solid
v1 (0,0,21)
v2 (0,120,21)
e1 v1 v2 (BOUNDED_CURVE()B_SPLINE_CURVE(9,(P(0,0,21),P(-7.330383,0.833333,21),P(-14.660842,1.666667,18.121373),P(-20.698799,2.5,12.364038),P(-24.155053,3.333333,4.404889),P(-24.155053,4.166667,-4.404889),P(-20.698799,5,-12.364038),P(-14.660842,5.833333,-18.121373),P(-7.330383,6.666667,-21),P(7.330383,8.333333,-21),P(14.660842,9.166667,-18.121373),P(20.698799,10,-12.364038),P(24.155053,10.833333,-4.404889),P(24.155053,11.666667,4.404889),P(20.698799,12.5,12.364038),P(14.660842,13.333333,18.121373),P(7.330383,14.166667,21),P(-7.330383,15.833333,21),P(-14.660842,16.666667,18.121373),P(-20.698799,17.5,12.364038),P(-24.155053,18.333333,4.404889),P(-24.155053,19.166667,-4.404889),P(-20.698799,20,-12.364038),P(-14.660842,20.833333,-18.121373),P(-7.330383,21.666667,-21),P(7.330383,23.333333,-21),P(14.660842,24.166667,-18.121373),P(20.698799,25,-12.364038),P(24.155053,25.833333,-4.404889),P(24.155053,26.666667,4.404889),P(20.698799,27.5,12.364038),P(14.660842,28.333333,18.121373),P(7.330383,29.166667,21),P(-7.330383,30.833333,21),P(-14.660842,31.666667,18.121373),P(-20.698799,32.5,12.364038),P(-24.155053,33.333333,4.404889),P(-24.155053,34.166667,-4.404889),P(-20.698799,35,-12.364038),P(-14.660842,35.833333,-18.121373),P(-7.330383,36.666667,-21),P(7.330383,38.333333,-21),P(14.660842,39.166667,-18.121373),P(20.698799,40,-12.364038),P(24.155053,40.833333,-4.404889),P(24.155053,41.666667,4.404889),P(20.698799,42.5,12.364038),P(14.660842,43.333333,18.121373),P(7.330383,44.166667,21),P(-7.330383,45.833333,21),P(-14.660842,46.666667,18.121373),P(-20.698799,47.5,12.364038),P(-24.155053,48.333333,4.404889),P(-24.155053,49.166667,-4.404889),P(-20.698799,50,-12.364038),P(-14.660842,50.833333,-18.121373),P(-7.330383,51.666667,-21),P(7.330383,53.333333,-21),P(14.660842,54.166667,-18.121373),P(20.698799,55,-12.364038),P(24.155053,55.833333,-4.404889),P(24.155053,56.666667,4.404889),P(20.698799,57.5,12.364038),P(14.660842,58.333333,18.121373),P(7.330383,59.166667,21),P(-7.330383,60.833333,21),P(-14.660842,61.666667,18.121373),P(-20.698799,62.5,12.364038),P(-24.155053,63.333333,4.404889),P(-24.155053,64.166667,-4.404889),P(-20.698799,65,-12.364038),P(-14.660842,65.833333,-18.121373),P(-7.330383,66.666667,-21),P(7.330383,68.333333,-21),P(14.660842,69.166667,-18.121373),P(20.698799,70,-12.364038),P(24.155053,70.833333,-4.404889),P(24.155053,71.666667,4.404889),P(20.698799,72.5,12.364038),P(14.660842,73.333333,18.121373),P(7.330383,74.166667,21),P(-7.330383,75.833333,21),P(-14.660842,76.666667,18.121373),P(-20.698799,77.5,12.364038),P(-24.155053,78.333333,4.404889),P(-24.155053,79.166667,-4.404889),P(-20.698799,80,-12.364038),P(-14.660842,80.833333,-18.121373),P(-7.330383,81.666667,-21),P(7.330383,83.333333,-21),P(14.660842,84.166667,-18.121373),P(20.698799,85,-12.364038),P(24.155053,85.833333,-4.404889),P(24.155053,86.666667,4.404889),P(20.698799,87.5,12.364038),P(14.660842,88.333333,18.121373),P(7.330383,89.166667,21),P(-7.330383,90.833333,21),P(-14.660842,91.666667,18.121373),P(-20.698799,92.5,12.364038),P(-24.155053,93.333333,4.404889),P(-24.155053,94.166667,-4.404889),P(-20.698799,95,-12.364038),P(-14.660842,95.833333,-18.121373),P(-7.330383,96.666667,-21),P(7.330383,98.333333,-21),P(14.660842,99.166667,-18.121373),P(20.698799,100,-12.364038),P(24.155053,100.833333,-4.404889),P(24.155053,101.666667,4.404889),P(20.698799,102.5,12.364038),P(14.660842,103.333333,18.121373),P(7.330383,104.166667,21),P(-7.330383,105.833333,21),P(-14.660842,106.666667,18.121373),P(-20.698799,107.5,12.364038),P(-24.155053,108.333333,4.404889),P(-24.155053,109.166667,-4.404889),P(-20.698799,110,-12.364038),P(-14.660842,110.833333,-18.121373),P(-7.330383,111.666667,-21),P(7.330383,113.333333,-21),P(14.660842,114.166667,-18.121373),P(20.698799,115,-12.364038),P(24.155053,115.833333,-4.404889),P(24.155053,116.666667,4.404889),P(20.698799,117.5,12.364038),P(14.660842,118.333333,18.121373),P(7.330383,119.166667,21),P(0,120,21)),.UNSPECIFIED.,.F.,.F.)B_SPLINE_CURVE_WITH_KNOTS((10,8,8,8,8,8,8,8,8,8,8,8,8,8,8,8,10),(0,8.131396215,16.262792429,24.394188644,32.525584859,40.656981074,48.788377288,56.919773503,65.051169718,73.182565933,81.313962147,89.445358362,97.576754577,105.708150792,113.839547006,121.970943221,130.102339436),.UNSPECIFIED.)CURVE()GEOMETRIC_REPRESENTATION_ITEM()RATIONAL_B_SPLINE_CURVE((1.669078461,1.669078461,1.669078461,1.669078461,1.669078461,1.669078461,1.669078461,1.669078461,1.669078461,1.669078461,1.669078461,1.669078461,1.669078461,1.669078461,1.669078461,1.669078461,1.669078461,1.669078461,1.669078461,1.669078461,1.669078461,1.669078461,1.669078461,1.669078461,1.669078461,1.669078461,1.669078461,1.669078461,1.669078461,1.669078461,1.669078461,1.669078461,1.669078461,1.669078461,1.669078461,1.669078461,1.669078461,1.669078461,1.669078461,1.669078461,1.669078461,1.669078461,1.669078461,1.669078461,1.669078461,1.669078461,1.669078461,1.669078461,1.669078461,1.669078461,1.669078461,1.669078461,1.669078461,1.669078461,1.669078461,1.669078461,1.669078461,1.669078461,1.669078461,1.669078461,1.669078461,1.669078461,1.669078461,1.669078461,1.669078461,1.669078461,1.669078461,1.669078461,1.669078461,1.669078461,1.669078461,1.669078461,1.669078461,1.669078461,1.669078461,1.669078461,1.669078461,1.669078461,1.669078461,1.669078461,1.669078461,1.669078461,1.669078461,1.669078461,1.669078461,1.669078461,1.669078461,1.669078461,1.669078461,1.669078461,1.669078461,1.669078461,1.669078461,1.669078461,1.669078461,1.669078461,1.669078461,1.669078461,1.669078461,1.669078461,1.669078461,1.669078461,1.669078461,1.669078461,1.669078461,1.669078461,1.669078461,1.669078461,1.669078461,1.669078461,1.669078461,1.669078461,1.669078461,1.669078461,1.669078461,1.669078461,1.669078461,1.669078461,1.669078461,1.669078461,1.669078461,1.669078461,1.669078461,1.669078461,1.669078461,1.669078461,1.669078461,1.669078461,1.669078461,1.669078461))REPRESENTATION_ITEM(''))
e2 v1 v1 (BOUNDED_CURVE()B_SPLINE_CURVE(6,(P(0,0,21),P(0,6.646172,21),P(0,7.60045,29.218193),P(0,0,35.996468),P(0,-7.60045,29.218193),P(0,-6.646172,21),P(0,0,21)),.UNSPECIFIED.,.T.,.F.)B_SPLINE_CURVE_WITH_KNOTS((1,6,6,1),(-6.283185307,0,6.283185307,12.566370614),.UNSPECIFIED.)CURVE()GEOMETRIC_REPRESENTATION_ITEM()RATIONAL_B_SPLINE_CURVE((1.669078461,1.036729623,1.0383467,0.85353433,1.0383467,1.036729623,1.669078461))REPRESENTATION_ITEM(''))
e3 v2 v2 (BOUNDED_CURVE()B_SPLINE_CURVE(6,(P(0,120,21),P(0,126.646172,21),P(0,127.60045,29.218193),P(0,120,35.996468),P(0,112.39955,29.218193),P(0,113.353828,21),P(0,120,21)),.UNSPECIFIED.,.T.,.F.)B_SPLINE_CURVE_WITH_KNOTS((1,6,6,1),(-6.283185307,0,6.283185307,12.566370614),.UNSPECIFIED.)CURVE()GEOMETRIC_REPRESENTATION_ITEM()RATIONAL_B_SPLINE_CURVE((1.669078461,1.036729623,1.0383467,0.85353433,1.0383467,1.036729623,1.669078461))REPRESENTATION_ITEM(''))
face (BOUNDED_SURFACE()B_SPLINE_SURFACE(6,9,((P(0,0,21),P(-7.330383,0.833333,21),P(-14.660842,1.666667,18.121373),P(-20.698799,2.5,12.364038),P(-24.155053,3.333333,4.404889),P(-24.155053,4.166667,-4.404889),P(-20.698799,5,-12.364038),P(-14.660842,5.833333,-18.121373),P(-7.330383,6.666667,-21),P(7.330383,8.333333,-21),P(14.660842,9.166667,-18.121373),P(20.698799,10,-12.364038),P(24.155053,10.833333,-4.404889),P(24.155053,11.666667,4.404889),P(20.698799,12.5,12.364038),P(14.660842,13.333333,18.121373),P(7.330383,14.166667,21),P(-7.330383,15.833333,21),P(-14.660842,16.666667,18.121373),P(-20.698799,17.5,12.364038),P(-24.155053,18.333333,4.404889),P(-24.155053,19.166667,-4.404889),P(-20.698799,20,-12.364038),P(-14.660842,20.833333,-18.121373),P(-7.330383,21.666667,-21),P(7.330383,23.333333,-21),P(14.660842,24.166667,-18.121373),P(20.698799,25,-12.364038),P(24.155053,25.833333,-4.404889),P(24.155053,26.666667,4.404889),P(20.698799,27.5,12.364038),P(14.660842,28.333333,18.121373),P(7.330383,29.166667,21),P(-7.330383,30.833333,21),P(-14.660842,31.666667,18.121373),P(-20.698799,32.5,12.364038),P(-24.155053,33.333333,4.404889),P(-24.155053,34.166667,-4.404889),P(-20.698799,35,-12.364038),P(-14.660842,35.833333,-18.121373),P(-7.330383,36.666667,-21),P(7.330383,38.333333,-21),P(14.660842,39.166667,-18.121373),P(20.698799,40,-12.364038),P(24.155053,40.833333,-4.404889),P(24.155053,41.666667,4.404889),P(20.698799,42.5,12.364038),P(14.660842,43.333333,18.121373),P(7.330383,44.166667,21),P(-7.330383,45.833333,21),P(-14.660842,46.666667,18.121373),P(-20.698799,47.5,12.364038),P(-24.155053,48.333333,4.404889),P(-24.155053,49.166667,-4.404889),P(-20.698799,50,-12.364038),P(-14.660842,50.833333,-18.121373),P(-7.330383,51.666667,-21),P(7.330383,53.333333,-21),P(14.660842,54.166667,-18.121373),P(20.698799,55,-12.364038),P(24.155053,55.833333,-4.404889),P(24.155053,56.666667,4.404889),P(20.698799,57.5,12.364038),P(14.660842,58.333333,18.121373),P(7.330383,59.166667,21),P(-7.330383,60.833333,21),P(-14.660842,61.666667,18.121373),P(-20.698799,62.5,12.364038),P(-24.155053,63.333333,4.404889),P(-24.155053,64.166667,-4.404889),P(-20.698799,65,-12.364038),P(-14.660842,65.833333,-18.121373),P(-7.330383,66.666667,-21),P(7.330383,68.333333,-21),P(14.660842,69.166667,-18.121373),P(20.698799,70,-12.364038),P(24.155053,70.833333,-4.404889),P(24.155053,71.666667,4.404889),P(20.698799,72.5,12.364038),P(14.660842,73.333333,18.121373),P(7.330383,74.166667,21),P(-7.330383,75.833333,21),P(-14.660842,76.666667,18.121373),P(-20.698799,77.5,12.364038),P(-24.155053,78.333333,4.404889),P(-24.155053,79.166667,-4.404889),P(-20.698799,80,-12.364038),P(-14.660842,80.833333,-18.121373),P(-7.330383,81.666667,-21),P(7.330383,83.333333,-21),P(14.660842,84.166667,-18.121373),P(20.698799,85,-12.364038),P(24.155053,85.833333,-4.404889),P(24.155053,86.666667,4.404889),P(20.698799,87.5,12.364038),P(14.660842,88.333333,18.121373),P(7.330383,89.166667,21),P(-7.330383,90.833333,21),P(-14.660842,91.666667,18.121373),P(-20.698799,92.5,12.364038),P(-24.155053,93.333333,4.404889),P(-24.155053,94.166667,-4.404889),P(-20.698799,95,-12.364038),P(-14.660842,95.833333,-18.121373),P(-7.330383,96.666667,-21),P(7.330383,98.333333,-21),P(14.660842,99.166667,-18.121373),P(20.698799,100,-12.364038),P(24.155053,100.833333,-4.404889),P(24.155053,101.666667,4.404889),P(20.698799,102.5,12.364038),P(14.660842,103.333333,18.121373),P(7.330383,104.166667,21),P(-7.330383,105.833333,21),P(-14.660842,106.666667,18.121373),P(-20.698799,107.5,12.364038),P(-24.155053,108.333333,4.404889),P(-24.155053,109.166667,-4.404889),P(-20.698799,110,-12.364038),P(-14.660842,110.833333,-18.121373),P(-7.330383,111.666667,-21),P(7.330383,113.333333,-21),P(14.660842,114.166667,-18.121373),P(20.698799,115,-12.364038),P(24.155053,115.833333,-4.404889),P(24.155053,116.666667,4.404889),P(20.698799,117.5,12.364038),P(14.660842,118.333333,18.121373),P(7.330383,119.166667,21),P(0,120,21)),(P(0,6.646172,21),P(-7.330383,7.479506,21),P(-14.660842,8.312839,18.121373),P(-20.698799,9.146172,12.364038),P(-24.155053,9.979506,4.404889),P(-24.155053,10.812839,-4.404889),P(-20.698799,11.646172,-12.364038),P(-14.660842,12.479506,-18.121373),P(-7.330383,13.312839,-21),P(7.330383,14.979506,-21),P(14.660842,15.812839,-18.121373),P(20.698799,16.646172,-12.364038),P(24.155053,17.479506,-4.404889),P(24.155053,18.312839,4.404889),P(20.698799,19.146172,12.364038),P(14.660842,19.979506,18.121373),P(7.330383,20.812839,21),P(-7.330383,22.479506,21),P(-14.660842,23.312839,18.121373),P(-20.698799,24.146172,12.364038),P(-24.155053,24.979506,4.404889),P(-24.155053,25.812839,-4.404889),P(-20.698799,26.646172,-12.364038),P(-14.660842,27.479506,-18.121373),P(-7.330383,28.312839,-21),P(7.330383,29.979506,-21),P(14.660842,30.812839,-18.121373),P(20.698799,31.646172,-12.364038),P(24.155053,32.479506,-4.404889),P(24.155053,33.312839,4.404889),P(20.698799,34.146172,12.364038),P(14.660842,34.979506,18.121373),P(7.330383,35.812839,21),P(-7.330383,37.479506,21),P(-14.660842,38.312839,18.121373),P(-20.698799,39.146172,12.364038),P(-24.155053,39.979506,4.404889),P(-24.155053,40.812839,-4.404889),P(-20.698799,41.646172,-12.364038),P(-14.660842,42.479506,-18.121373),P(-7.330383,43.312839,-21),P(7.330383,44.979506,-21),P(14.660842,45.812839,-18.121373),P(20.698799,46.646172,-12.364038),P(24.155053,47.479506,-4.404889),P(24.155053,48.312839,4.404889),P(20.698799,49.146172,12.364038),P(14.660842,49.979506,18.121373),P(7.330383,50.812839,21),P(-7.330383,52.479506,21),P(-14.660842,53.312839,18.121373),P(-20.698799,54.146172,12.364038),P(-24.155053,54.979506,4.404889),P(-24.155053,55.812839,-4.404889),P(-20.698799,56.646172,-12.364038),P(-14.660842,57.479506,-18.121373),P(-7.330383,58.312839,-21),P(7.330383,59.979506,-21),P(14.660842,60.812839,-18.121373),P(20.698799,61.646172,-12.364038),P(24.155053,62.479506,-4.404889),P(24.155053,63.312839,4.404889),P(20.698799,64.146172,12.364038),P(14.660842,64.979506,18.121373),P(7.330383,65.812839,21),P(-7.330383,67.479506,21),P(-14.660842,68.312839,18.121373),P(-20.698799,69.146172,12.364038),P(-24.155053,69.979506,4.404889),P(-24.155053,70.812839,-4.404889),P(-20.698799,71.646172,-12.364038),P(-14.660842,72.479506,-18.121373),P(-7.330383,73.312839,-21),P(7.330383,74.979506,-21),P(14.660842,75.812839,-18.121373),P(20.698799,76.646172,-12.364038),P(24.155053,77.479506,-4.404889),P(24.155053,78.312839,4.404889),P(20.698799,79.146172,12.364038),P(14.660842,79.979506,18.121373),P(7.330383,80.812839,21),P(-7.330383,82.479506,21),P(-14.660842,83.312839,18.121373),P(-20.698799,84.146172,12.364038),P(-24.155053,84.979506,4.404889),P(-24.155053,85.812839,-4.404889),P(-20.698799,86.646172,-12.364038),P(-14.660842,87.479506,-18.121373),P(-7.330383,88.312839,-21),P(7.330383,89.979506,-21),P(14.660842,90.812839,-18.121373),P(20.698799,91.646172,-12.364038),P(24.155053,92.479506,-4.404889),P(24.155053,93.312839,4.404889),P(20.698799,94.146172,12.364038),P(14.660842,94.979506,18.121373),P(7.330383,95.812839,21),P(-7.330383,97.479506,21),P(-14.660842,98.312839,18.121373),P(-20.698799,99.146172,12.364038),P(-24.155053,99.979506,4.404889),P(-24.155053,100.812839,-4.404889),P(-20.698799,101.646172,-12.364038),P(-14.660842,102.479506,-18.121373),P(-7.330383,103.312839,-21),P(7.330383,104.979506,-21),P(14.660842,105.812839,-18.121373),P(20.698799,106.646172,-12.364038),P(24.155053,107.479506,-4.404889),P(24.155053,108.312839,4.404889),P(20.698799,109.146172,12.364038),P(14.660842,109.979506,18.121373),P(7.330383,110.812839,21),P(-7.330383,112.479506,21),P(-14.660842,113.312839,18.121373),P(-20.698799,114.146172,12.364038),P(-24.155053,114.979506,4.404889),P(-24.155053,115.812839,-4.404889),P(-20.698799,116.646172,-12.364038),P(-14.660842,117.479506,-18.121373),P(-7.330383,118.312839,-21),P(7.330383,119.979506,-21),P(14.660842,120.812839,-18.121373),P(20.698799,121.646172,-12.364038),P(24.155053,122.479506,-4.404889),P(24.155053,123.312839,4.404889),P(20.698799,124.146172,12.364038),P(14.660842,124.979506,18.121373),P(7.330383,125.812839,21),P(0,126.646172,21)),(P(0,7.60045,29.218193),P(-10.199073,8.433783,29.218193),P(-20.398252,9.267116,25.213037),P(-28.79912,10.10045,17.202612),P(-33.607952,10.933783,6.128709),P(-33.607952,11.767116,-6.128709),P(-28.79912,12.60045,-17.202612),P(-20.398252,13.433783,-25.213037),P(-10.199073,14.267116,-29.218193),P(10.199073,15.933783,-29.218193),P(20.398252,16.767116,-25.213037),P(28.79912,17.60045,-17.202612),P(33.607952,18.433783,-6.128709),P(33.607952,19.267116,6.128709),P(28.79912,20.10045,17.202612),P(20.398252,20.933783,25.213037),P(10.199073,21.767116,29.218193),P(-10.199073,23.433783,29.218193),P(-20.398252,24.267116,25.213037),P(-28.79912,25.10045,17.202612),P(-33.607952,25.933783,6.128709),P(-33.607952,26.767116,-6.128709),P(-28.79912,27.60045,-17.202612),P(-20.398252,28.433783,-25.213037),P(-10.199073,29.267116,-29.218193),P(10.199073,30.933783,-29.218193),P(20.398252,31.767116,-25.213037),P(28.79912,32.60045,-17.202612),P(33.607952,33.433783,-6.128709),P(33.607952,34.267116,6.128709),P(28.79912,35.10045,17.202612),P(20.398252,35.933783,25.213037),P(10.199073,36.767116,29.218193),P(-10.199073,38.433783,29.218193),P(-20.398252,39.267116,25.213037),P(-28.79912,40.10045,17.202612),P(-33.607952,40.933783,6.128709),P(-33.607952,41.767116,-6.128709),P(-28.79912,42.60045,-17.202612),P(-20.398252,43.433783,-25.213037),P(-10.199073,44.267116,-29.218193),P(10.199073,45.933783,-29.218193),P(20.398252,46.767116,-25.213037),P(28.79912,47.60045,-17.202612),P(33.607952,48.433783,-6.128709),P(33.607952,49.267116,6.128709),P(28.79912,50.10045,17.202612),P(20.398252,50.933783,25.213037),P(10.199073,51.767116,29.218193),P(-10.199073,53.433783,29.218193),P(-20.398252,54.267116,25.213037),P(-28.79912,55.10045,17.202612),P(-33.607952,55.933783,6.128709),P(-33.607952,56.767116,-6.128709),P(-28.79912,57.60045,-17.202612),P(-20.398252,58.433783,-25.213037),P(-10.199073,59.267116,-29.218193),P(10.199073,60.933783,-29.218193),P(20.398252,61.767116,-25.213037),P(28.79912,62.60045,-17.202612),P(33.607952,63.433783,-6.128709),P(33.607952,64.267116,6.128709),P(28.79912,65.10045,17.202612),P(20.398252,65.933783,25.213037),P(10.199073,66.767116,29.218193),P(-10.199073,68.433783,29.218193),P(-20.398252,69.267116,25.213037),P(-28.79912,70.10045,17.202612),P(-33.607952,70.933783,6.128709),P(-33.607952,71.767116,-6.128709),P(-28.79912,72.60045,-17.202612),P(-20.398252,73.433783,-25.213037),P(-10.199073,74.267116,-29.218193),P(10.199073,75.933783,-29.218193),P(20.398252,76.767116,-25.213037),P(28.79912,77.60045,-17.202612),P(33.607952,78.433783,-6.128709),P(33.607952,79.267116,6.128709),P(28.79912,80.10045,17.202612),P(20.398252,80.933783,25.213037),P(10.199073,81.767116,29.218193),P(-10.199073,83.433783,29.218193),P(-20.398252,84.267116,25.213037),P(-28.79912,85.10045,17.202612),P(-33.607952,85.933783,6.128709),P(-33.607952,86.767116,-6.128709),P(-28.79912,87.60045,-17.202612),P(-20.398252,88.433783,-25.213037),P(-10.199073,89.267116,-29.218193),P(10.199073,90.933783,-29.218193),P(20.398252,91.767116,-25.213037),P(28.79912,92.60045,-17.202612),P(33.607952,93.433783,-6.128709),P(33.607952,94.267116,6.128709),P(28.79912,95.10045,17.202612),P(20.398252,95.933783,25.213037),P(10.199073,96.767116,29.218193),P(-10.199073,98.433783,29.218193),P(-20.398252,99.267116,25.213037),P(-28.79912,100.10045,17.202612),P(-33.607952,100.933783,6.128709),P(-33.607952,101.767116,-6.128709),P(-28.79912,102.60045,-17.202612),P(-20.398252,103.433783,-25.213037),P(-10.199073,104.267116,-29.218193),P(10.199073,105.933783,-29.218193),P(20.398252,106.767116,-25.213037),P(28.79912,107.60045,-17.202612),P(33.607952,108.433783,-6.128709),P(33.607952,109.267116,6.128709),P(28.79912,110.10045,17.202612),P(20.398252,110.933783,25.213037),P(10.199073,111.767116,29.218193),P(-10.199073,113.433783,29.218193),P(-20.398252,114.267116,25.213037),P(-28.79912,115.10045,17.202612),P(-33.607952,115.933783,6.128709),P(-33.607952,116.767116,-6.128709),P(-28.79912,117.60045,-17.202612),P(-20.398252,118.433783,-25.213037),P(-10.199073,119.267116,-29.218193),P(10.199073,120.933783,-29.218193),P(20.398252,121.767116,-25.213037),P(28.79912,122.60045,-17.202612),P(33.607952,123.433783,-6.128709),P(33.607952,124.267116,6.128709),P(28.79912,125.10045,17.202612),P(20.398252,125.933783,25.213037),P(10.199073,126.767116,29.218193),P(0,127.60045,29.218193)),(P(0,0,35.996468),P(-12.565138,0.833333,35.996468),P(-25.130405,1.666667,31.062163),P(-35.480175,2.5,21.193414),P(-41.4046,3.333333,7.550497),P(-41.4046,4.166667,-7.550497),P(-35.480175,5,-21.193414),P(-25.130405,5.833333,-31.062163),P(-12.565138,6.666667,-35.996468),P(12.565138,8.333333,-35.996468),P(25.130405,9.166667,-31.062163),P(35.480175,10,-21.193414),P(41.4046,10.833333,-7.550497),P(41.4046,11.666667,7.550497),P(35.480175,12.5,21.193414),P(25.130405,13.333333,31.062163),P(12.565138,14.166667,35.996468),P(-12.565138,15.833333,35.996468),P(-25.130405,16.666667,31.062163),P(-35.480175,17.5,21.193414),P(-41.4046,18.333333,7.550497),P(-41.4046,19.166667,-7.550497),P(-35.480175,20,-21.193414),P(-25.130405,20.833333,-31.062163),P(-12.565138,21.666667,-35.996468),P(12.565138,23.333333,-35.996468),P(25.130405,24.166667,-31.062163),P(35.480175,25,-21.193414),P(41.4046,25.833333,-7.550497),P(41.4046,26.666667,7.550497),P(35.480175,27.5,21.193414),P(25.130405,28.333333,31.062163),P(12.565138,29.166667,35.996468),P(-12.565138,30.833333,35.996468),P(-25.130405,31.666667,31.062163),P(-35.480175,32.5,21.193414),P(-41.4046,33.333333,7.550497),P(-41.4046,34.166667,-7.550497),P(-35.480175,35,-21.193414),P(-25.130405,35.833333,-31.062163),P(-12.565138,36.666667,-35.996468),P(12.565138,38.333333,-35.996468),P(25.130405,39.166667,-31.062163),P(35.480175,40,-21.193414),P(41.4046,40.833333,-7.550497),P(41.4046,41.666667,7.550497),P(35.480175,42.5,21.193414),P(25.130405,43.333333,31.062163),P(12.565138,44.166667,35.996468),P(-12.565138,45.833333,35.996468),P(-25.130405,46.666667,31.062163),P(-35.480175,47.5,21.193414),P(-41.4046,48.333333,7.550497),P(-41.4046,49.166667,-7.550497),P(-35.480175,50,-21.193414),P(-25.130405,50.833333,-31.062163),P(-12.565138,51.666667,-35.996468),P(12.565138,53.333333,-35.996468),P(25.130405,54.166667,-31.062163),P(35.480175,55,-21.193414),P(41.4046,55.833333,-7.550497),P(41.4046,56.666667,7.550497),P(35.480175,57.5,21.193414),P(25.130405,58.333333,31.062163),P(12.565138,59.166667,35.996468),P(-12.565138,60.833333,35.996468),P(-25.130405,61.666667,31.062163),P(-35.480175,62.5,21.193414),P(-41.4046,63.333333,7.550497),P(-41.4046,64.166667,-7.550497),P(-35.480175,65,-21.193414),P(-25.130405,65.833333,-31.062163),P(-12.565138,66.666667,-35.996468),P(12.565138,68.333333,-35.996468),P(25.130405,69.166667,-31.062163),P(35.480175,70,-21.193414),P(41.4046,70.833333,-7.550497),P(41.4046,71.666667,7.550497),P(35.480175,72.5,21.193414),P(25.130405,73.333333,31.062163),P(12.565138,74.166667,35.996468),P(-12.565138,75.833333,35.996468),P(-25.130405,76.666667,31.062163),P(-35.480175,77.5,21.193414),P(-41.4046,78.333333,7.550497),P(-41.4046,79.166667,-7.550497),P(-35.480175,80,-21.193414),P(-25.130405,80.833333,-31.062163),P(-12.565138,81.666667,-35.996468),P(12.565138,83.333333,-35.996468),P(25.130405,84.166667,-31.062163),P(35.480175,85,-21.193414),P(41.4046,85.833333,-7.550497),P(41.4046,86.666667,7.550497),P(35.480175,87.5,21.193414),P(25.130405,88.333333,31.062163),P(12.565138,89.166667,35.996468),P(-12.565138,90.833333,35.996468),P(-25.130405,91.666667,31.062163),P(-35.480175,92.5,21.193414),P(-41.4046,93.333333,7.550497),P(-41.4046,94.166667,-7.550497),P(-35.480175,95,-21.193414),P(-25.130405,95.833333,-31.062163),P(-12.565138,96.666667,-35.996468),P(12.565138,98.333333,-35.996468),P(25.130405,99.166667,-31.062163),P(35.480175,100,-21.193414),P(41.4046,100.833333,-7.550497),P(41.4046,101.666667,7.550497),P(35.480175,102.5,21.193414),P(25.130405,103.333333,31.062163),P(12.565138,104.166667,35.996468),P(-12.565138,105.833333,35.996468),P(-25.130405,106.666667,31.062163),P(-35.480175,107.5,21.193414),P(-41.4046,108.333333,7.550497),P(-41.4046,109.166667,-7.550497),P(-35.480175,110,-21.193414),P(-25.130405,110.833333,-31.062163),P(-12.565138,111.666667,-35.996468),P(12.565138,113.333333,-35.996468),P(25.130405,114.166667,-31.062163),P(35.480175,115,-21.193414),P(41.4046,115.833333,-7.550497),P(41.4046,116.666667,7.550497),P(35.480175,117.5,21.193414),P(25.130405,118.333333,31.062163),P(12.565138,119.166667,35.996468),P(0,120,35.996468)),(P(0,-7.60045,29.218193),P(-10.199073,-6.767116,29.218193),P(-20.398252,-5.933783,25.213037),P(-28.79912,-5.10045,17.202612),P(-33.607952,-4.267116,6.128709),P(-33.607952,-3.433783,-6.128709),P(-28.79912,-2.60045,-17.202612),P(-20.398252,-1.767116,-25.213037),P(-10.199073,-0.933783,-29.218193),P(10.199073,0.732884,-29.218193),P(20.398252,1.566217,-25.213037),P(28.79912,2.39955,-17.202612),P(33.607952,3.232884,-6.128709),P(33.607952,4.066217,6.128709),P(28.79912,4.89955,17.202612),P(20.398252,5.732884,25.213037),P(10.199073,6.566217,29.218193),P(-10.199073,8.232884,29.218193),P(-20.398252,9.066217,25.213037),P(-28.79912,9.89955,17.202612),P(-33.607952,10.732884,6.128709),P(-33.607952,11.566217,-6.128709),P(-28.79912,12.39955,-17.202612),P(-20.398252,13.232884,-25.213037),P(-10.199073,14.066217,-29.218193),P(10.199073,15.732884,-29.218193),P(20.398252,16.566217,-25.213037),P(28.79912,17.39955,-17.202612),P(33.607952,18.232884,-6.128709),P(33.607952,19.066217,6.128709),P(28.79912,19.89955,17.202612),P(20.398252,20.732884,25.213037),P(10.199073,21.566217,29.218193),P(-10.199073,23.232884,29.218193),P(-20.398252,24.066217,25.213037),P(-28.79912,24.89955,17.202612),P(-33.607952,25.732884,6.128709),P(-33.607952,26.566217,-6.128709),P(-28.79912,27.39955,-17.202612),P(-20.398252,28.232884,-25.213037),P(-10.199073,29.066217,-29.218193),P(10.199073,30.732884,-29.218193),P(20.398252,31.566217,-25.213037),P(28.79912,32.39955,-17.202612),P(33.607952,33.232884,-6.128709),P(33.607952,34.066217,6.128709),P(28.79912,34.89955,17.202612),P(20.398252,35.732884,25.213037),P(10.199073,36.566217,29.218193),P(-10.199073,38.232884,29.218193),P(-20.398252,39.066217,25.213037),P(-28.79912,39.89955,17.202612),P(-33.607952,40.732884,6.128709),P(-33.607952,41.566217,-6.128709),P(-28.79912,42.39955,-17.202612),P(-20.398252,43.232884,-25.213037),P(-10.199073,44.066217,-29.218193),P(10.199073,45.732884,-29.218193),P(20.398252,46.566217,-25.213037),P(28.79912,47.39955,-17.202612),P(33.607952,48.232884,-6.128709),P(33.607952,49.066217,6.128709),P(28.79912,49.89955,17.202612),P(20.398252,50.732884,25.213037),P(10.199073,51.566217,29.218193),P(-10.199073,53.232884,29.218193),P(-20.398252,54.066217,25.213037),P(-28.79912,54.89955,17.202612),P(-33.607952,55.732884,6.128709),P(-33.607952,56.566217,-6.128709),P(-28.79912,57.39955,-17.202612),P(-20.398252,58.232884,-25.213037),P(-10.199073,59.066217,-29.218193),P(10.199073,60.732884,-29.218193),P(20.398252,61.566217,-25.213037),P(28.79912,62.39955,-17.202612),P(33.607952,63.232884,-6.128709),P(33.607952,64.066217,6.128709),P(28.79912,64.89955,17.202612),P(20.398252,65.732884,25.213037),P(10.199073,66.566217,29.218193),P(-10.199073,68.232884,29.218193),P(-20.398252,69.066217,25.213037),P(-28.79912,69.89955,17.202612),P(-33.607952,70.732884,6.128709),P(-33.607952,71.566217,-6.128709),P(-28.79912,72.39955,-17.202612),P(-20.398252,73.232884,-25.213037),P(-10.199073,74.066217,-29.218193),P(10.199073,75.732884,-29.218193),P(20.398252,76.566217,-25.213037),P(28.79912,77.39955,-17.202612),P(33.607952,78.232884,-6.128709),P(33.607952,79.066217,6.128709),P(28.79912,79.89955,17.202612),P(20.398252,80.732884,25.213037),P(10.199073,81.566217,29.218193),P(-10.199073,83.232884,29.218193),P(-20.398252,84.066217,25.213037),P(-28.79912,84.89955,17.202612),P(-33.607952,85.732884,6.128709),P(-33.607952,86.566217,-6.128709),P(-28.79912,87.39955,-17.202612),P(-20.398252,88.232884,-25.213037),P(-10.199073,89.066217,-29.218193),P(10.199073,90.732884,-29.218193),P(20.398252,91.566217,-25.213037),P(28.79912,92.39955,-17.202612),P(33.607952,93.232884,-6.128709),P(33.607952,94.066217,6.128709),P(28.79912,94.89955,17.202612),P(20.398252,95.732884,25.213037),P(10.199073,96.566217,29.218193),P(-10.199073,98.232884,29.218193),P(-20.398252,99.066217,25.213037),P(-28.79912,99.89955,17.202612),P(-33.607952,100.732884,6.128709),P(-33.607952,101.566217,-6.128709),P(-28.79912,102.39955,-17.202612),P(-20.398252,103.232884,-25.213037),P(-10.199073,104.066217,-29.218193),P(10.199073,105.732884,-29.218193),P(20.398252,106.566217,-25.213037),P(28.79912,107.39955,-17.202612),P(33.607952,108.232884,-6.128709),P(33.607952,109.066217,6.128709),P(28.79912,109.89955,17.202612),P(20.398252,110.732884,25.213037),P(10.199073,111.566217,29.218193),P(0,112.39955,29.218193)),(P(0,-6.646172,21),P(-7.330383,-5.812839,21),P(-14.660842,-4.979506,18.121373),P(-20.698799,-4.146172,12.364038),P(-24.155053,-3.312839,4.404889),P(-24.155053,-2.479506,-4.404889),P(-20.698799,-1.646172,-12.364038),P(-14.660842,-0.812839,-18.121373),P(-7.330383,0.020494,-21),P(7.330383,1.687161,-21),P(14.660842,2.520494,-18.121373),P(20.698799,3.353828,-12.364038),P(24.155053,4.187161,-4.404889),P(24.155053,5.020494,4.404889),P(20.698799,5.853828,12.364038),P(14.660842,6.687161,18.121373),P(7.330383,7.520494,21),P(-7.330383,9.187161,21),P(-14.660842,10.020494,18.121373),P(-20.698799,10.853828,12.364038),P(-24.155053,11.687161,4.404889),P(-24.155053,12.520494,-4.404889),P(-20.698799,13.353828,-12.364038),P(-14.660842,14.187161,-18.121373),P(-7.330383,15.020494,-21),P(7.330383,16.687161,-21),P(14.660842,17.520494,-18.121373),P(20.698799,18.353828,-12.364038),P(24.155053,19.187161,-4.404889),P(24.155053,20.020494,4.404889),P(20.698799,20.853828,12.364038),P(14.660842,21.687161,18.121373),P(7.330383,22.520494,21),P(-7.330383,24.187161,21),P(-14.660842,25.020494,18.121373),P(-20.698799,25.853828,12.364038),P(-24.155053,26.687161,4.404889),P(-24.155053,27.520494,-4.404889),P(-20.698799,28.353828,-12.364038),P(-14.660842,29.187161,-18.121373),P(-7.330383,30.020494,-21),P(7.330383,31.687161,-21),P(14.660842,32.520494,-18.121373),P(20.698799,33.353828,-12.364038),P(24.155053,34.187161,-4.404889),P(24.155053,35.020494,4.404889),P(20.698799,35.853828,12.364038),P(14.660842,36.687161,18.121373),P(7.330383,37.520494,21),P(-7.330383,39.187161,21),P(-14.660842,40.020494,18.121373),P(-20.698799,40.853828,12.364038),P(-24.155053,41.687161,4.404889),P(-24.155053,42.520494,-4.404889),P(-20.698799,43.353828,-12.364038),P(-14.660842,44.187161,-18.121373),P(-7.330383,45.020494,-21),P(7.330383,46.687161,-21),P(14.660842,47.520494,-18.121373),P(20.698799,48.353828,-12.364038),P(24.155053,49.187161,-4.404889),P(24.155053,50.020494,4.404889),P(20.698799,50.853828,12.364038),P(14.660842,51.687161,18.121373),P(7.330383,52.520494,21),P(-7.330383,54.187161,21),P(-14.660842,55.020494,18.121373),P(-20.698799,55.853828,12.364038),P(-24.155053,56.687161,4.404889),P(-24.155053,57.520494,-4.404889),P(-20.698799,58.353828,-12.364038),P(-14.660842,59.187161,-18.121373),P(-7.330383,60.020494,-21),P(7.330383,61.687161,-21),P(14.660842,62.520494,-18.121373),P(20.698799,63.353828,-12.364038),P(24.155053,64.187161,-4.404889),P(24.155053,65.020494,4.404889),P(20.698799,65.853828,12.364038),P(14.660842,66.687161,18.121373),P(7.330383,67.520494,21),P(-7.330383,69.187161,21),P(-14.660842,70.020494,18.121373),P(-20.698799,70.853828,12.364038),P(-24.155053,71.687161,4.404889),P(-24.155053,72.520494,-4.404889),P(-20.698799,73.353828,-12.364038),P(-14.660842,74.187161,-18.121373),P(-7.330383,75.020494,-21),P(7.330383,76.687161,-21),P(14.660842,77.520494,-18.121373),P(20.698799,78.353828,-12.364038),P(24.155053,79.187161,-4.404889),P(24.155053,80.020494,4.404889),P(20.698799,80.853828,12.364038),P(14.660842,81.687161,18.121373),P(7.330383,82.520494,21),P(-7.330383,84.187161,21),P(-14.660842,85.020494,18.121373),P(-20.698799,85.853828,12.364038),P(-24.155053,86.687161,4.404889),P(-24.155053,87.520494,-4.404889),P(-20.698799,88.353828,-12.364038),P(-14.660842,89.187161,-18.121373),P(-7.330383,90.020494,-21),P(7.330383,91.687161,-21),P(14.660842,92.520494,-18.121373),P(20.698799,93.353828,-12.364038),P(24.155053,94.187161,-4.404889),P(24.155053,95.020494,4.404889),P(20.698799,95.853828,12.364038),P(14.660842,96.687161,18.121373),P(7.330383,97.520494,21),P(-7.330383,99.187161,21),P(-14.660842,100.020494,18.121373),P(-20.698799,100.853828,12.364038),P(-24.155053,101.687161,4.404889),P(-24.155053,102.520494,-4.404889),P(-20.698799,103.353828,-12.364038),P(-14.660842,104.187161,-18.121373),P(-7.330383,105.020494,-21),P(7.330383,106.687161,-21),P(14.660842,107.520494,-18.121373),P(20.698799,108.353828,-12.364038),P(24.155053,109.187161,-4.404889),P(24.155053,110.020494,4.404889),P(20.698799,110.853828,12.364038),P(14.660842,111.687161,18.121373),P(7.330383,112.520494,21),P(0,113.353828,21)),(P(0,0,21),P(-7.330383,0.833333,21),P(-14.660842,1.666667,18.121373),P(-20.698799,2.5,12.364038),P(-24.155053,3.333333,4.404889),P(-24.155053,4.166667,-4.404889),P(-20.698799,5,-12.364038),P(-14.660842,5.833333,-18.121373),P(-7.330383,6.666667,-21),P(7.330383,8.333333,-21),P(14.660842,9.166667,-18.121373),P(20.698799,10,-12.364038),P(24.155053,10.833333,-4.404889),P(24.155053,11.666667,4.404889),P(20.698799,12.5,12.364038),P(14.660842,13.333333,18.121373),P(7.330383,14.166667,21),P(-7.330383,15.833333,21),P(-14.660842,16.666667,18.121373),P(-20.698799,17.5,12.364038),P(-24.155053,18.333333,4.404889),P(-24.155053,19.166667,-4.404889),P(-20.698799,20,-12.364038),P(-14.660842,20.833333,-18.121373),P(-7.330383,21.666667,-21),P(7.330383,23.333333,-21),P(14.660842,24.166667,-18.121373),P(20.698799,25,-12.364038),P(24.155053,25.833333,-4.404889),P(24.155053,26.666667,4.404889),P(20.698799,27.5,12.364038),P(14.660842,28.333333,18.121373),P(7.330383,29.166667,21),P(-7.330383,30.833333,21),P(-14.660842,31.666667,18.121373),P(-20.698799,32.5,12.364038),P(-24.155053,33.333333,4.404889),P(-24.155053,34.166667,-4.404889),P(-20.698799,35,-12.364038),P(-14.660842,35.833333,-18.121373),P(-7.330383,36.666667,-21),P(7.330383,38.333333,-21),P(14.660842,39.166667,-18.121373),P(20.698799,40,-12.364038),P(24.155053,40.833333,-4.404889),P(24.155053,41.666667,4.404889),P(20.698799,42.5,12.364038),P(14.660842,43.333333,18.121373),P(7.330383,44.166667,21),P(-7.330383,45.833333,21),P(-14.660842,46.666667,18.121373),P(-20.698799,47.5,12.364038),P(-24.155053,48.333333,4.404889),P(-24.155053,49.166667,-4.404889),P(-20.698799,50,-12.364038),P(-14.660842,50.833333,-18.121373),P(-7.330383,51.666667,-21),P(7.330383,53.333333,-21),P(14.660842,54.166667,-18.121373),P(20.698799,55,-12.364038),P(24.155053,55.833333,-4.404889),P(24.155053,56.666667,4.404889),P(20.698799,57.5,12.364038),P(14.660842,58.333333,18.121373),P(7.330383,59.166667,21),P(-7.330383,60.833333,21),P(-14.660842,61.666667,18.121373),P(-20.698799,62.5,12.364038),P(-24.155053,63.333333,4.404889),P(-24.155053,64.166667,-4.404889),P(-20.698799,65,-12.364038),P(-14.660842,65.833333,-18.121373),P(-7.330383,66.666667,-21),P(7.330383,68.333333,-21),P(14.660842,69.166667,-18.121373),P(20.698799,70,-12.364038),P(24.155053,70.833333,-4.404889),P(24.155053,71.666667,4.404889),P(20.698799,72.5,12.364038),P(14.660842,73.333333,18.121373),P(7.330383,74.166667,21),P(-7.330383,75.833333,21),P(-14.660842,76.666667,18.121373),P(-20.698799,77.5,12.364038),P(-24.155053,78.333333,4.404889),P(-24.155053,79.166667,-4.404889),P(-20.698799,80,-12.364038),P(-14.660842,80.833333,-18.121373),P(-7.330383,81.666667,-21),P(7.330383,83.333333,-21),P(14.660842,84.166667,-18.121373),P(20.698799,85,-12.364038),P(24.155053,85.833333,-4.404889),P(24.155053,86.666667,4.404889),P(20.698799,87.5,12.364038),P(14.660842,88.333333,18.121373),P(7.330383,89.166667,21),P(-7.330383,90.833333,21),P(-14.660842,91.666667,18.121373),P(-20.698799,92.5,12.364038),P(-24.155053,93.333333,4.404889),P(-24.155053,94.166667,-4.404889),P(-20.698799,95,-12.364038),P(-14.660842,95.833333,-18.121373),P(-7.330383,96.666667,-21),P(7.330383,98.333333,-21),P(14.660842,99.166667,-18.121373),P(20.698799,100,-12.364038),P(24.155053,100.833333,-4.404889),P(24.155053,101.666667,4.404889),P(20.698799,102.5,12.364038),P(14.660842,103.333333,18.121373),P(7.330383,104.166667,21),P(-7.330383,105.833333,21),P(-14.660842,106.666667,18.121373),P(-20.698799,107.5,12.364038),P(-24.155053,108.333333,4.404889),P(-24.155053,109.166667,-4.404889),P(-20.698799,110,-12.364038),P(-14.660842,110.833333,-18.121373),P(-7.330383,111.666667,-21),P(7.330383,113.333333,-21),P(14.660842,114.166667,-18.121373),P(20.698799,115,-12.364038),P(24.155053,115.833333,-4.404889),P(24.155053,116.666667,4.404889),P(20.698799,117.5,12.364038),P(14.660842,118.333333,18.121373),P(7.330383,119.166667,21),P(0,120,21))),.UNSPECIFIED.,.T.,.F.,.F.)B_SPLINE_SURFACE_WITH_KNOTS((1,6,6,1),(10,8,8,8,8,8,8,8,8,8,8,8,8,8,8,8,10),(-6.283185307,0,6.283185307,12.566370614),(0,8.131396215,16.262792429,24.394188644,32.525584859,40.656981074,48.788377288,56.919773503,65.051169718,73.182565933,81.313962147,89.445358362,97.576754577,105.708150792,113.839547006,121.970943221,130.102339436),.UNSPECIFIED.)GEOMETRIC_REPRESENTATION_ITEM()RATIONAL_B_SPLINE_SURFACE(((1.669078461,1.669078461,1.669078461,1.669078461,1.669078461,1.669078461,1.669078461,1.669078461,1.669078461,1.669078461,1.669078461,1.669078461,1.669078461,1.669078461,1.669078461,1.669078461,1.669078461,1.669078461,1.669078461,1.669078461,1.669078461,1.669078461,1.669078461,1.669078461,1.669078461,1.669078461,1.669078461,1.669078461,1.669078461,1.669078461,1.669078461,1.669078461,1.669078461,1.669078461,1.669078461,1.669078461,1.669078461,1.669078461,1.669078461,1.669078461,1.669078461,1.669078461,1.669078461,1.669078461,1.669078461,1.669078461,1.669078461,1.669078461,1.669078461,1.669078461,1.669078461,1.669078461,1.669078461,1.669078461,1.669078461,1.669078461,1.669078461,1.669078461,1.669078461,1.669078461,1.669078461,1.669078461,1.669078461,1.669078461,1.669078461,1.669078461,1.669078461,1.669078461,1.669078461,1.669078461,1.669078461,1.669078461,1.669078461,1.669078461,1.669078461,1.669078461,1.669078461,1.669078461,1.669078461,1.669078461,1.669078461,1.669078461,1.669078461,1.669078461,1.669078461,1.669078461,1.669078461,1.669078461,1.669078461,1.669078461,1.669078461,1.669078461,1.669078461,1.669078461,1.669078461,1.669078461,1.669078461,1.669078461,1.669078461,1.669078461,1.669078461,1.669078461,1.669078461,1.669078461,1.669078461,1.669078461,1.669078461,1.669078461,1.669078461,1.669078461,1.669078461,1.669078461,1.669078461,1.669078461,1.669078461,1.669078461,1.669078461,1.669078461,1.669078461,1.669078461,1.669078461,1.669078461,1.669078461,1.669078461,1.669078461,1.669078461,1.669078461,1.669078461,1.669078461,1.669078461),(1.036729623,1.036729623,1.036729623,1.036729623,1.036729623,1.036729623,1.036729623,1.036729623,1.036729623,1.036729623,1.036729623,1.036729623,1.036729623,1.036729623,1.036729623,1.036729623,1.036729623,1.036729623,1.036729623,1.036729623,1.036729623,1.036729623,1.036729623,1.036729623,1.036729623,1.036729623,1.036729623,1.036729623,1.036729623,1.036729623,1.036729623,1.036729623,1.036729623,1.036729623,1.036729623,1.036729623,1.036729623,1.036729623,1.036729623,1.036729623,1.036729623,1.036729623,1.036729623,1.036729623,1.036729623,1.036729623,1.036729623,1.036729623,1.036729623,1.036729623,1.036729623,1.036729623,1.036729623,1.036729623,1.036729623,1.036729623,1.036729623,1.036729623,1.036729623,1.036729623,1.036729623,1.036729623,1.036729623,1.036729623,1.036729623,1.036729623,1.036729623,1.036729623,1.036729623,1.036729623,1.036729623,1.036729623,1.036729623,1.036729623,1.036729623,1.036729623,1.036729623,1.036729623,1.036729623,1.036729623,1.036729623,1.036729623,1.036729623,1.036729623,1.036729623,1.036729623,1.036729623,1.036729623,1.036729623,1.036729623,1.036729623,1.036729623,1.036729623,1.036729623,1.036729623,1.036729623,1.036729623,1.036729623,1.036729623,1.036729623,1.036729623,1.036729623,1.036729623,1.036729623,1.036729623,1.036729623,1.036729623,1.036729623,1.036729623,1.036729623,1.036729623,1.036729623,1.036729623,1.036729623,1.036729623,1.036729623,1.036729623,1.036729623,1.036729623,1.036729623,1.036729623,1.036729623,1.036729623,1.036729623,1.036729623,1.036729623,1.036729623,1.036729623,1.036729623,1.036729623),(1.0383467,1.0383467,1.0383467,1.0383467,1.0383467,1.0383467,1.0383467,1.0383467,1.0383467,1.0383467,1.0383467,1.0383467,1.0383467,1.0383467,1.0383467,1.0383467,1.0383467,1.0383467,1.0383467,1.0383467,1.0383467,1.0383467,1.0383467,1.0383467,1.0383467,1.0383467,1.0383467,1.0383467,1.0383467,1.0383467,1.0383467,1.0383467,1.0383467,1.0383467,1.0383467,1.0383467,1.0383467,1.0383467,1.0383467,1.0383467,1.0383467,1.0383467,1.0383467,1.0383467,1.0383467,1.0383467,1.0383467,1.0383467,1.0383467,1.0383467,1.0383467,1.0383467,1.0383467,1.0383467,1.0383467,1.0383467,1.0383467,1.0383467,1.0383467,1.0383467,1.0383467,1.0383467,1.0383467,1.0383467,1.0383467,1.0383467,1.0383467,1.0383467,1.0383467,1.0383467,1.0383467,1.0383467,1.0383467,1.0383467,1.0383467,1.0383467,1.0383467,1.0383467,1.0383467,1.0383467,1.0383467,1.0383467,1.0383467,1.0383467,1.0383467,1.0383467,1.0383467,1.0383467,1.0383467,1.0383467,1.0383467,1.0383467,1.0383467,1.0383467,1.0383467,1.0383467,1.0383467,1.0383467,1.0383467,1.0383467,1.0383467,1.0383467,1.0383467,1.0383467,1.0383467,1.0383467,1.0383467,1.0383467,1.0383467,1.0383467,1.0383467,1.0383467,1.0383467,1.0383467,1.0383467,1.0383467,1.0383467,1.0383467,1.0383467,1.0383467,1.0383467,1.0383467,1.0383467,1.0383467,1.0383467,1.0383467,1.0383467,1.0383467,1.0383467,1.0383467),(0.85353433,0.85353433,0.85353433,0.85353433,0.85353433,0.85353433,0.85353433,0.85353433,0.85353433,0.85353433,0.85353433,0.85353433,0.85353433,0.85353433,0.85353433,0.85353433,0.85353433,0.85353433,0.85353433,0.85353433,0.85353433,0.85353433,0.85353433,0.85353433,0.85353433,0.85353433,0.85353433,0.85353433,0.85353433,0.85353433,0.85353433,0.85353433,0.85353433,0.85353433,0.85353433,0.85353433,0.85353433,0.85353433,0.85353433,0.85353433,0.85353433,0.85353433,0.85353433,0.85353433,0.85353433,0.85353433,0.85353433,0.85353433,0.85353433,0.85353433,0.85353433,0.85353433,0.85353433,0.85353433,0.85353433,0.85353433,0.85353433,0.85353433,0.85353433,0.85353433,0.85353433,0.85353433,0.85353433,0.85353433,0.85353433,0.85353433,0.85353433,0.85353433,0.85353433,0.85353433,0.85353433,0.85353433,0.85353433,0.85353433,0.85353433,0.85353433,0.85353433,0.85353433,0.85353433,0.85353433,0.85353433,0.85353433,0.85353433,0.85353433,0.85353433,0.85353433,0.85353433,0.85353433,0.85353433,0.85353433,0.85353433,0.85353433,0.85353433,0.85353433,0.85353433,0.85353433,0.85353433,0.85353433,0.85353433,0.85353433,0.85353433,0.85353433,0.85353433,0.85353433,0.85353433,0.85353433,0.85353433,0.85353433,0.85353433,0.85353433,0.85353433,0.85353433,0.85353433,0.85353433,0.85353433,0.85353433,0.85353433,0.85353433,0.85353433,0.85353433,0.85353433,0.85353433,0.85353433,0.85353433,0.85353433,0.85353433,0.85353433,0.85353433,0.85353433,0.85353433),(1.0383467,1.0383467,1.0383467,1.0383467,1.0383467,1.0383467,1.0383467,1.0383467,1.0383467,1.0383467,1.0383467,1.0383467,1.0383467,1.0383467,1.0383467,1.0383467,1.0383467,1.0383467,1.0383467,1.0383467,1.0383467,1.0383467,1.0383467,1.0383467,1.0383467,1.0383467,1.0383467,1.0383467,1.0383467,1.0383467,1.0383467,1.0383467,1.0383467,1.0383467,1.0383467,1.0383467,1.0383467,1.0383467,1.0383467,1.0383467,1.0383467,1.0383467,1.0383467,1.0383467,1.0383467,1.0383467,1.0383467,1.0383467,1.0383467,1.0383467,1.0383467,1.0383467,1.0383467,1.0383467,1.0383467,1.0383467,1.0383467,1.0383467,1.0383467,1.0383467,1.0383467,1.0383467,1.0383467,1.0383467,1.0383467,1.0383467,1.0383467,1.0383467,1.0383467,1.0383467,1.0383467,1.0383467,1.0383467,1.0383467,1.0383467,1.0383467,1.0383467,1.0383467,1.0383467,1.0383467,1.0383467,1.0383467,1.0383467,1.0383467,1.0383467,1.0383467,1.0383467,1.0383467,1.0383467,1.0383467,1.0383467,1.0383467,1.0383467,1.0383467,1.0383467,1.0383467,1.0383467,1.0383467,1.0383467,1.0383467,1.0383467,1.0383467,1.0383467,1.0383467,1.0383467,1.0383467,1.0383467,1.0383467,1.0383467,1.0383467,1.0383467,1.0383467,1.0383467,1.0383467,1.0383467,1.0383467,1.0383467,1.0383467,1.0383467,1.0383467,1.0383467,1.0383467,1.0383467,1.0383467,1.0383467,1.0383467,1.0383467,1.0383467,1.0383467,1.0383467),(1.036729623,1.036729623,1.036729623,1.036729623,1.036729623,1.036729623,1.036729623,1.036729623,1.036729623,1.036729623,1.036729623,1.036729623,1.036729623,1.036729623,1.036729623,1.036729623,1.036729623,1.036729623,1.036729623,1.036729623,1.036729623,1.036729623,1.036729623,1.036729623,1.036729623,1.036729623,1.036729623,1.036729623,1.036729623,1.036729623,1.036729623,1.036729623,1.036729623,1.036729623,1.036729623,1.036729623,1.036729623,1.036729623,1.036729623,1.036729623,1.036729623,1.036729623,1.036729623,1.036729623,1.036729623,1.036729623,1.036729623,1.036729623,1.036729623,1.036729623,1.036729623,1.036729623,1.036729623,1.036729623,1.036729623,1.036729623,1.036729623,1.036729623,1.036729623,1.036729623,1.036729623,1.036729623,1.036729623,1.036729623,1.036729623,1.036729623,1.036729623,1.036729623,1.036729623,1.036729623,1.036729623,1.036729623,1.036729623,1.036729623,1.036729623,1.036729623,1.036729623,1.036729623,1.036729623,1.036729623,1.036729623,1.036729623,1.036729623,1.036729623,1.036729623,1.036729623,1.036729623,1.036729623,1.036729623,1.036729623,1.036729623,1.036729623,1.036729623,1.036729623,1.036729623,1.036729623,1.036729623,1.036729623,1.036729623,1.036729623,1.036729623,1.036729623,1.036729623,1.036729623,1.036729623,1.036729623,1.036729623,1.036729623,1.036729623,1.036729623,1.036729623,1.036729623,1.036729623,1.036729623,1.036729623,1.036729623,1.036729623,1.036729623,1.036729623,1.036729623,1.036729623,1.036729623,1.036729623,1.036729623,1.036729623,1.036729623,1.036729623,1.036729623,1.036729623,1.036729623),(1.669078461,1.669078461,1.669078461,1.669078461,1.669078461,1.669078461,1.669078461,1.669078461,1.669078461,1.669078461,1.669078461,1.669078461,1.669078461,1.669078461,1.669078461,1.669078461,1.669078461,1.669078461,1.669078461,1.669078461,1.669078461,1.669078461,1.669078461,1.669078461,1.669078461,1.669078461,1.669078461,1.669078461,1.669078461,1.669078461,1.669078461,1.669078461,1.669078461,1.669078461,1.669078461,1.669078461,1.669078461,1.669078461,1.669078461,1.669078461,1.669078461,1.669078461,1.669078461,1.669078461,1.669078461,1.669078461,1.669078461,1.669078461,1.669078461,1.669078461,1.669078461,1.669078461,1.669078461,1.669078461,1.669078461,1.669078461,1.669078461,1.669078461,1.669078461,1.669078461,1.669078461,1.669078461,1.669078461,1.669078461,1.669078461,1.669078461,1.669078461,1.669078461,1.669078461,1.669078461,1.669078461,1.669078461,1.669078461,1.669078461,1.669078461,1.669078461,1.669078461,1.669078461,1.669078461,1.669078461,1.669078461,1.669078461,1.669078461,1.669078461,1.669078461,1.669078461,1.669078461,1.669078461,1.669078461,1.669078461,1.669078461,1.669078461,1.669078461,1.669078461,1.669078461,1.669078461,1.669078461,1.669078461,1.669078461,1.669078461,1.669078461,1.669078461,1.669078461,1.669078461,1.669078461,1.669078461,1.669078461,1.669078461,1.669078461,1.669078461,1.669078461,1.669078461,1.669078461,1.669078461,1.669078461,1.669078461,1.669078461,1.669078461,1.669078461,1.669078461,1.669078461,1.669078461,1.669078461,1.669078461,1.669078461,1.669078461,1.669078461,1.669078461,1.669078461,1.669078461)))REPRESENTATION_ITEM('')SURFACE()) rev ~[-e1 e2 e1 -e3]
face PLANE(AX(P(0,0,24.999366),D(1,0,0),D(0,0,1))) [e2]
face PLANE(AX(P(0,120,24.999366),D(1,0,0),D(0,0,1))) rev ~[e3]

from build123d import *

# Parameters (mm, degrees)
SWEEP1_PITCH  = 15
SWEEP1_HEIGHT = 120
SWEEP1_RADIUS = 25
SKETCH2_R     = 4


with BuildPart() as part:
    # Sweep1: sweep along a helix
    with BuildLine() as sweep1_path:
        Helix(SWEEP1_PITCH, SWEEP1_HEIGHT, SWEEP1_RADIUS, center=(0, 0, 0), direction=(0, 1, 0), lefthand=True)
    # Sketch2 → Sweep1 (sweep)
    with BuildSketch(Plane(origin=(0, 0, 0), x_dir=(0, 0, -1), z_dir=(1, 0, 0))):
        with Locations((-25, 0)):
            Circle(SKETCH2_R)
    sweep(path=sweep1_path.line, is_frenet=True)


solid = part.part
